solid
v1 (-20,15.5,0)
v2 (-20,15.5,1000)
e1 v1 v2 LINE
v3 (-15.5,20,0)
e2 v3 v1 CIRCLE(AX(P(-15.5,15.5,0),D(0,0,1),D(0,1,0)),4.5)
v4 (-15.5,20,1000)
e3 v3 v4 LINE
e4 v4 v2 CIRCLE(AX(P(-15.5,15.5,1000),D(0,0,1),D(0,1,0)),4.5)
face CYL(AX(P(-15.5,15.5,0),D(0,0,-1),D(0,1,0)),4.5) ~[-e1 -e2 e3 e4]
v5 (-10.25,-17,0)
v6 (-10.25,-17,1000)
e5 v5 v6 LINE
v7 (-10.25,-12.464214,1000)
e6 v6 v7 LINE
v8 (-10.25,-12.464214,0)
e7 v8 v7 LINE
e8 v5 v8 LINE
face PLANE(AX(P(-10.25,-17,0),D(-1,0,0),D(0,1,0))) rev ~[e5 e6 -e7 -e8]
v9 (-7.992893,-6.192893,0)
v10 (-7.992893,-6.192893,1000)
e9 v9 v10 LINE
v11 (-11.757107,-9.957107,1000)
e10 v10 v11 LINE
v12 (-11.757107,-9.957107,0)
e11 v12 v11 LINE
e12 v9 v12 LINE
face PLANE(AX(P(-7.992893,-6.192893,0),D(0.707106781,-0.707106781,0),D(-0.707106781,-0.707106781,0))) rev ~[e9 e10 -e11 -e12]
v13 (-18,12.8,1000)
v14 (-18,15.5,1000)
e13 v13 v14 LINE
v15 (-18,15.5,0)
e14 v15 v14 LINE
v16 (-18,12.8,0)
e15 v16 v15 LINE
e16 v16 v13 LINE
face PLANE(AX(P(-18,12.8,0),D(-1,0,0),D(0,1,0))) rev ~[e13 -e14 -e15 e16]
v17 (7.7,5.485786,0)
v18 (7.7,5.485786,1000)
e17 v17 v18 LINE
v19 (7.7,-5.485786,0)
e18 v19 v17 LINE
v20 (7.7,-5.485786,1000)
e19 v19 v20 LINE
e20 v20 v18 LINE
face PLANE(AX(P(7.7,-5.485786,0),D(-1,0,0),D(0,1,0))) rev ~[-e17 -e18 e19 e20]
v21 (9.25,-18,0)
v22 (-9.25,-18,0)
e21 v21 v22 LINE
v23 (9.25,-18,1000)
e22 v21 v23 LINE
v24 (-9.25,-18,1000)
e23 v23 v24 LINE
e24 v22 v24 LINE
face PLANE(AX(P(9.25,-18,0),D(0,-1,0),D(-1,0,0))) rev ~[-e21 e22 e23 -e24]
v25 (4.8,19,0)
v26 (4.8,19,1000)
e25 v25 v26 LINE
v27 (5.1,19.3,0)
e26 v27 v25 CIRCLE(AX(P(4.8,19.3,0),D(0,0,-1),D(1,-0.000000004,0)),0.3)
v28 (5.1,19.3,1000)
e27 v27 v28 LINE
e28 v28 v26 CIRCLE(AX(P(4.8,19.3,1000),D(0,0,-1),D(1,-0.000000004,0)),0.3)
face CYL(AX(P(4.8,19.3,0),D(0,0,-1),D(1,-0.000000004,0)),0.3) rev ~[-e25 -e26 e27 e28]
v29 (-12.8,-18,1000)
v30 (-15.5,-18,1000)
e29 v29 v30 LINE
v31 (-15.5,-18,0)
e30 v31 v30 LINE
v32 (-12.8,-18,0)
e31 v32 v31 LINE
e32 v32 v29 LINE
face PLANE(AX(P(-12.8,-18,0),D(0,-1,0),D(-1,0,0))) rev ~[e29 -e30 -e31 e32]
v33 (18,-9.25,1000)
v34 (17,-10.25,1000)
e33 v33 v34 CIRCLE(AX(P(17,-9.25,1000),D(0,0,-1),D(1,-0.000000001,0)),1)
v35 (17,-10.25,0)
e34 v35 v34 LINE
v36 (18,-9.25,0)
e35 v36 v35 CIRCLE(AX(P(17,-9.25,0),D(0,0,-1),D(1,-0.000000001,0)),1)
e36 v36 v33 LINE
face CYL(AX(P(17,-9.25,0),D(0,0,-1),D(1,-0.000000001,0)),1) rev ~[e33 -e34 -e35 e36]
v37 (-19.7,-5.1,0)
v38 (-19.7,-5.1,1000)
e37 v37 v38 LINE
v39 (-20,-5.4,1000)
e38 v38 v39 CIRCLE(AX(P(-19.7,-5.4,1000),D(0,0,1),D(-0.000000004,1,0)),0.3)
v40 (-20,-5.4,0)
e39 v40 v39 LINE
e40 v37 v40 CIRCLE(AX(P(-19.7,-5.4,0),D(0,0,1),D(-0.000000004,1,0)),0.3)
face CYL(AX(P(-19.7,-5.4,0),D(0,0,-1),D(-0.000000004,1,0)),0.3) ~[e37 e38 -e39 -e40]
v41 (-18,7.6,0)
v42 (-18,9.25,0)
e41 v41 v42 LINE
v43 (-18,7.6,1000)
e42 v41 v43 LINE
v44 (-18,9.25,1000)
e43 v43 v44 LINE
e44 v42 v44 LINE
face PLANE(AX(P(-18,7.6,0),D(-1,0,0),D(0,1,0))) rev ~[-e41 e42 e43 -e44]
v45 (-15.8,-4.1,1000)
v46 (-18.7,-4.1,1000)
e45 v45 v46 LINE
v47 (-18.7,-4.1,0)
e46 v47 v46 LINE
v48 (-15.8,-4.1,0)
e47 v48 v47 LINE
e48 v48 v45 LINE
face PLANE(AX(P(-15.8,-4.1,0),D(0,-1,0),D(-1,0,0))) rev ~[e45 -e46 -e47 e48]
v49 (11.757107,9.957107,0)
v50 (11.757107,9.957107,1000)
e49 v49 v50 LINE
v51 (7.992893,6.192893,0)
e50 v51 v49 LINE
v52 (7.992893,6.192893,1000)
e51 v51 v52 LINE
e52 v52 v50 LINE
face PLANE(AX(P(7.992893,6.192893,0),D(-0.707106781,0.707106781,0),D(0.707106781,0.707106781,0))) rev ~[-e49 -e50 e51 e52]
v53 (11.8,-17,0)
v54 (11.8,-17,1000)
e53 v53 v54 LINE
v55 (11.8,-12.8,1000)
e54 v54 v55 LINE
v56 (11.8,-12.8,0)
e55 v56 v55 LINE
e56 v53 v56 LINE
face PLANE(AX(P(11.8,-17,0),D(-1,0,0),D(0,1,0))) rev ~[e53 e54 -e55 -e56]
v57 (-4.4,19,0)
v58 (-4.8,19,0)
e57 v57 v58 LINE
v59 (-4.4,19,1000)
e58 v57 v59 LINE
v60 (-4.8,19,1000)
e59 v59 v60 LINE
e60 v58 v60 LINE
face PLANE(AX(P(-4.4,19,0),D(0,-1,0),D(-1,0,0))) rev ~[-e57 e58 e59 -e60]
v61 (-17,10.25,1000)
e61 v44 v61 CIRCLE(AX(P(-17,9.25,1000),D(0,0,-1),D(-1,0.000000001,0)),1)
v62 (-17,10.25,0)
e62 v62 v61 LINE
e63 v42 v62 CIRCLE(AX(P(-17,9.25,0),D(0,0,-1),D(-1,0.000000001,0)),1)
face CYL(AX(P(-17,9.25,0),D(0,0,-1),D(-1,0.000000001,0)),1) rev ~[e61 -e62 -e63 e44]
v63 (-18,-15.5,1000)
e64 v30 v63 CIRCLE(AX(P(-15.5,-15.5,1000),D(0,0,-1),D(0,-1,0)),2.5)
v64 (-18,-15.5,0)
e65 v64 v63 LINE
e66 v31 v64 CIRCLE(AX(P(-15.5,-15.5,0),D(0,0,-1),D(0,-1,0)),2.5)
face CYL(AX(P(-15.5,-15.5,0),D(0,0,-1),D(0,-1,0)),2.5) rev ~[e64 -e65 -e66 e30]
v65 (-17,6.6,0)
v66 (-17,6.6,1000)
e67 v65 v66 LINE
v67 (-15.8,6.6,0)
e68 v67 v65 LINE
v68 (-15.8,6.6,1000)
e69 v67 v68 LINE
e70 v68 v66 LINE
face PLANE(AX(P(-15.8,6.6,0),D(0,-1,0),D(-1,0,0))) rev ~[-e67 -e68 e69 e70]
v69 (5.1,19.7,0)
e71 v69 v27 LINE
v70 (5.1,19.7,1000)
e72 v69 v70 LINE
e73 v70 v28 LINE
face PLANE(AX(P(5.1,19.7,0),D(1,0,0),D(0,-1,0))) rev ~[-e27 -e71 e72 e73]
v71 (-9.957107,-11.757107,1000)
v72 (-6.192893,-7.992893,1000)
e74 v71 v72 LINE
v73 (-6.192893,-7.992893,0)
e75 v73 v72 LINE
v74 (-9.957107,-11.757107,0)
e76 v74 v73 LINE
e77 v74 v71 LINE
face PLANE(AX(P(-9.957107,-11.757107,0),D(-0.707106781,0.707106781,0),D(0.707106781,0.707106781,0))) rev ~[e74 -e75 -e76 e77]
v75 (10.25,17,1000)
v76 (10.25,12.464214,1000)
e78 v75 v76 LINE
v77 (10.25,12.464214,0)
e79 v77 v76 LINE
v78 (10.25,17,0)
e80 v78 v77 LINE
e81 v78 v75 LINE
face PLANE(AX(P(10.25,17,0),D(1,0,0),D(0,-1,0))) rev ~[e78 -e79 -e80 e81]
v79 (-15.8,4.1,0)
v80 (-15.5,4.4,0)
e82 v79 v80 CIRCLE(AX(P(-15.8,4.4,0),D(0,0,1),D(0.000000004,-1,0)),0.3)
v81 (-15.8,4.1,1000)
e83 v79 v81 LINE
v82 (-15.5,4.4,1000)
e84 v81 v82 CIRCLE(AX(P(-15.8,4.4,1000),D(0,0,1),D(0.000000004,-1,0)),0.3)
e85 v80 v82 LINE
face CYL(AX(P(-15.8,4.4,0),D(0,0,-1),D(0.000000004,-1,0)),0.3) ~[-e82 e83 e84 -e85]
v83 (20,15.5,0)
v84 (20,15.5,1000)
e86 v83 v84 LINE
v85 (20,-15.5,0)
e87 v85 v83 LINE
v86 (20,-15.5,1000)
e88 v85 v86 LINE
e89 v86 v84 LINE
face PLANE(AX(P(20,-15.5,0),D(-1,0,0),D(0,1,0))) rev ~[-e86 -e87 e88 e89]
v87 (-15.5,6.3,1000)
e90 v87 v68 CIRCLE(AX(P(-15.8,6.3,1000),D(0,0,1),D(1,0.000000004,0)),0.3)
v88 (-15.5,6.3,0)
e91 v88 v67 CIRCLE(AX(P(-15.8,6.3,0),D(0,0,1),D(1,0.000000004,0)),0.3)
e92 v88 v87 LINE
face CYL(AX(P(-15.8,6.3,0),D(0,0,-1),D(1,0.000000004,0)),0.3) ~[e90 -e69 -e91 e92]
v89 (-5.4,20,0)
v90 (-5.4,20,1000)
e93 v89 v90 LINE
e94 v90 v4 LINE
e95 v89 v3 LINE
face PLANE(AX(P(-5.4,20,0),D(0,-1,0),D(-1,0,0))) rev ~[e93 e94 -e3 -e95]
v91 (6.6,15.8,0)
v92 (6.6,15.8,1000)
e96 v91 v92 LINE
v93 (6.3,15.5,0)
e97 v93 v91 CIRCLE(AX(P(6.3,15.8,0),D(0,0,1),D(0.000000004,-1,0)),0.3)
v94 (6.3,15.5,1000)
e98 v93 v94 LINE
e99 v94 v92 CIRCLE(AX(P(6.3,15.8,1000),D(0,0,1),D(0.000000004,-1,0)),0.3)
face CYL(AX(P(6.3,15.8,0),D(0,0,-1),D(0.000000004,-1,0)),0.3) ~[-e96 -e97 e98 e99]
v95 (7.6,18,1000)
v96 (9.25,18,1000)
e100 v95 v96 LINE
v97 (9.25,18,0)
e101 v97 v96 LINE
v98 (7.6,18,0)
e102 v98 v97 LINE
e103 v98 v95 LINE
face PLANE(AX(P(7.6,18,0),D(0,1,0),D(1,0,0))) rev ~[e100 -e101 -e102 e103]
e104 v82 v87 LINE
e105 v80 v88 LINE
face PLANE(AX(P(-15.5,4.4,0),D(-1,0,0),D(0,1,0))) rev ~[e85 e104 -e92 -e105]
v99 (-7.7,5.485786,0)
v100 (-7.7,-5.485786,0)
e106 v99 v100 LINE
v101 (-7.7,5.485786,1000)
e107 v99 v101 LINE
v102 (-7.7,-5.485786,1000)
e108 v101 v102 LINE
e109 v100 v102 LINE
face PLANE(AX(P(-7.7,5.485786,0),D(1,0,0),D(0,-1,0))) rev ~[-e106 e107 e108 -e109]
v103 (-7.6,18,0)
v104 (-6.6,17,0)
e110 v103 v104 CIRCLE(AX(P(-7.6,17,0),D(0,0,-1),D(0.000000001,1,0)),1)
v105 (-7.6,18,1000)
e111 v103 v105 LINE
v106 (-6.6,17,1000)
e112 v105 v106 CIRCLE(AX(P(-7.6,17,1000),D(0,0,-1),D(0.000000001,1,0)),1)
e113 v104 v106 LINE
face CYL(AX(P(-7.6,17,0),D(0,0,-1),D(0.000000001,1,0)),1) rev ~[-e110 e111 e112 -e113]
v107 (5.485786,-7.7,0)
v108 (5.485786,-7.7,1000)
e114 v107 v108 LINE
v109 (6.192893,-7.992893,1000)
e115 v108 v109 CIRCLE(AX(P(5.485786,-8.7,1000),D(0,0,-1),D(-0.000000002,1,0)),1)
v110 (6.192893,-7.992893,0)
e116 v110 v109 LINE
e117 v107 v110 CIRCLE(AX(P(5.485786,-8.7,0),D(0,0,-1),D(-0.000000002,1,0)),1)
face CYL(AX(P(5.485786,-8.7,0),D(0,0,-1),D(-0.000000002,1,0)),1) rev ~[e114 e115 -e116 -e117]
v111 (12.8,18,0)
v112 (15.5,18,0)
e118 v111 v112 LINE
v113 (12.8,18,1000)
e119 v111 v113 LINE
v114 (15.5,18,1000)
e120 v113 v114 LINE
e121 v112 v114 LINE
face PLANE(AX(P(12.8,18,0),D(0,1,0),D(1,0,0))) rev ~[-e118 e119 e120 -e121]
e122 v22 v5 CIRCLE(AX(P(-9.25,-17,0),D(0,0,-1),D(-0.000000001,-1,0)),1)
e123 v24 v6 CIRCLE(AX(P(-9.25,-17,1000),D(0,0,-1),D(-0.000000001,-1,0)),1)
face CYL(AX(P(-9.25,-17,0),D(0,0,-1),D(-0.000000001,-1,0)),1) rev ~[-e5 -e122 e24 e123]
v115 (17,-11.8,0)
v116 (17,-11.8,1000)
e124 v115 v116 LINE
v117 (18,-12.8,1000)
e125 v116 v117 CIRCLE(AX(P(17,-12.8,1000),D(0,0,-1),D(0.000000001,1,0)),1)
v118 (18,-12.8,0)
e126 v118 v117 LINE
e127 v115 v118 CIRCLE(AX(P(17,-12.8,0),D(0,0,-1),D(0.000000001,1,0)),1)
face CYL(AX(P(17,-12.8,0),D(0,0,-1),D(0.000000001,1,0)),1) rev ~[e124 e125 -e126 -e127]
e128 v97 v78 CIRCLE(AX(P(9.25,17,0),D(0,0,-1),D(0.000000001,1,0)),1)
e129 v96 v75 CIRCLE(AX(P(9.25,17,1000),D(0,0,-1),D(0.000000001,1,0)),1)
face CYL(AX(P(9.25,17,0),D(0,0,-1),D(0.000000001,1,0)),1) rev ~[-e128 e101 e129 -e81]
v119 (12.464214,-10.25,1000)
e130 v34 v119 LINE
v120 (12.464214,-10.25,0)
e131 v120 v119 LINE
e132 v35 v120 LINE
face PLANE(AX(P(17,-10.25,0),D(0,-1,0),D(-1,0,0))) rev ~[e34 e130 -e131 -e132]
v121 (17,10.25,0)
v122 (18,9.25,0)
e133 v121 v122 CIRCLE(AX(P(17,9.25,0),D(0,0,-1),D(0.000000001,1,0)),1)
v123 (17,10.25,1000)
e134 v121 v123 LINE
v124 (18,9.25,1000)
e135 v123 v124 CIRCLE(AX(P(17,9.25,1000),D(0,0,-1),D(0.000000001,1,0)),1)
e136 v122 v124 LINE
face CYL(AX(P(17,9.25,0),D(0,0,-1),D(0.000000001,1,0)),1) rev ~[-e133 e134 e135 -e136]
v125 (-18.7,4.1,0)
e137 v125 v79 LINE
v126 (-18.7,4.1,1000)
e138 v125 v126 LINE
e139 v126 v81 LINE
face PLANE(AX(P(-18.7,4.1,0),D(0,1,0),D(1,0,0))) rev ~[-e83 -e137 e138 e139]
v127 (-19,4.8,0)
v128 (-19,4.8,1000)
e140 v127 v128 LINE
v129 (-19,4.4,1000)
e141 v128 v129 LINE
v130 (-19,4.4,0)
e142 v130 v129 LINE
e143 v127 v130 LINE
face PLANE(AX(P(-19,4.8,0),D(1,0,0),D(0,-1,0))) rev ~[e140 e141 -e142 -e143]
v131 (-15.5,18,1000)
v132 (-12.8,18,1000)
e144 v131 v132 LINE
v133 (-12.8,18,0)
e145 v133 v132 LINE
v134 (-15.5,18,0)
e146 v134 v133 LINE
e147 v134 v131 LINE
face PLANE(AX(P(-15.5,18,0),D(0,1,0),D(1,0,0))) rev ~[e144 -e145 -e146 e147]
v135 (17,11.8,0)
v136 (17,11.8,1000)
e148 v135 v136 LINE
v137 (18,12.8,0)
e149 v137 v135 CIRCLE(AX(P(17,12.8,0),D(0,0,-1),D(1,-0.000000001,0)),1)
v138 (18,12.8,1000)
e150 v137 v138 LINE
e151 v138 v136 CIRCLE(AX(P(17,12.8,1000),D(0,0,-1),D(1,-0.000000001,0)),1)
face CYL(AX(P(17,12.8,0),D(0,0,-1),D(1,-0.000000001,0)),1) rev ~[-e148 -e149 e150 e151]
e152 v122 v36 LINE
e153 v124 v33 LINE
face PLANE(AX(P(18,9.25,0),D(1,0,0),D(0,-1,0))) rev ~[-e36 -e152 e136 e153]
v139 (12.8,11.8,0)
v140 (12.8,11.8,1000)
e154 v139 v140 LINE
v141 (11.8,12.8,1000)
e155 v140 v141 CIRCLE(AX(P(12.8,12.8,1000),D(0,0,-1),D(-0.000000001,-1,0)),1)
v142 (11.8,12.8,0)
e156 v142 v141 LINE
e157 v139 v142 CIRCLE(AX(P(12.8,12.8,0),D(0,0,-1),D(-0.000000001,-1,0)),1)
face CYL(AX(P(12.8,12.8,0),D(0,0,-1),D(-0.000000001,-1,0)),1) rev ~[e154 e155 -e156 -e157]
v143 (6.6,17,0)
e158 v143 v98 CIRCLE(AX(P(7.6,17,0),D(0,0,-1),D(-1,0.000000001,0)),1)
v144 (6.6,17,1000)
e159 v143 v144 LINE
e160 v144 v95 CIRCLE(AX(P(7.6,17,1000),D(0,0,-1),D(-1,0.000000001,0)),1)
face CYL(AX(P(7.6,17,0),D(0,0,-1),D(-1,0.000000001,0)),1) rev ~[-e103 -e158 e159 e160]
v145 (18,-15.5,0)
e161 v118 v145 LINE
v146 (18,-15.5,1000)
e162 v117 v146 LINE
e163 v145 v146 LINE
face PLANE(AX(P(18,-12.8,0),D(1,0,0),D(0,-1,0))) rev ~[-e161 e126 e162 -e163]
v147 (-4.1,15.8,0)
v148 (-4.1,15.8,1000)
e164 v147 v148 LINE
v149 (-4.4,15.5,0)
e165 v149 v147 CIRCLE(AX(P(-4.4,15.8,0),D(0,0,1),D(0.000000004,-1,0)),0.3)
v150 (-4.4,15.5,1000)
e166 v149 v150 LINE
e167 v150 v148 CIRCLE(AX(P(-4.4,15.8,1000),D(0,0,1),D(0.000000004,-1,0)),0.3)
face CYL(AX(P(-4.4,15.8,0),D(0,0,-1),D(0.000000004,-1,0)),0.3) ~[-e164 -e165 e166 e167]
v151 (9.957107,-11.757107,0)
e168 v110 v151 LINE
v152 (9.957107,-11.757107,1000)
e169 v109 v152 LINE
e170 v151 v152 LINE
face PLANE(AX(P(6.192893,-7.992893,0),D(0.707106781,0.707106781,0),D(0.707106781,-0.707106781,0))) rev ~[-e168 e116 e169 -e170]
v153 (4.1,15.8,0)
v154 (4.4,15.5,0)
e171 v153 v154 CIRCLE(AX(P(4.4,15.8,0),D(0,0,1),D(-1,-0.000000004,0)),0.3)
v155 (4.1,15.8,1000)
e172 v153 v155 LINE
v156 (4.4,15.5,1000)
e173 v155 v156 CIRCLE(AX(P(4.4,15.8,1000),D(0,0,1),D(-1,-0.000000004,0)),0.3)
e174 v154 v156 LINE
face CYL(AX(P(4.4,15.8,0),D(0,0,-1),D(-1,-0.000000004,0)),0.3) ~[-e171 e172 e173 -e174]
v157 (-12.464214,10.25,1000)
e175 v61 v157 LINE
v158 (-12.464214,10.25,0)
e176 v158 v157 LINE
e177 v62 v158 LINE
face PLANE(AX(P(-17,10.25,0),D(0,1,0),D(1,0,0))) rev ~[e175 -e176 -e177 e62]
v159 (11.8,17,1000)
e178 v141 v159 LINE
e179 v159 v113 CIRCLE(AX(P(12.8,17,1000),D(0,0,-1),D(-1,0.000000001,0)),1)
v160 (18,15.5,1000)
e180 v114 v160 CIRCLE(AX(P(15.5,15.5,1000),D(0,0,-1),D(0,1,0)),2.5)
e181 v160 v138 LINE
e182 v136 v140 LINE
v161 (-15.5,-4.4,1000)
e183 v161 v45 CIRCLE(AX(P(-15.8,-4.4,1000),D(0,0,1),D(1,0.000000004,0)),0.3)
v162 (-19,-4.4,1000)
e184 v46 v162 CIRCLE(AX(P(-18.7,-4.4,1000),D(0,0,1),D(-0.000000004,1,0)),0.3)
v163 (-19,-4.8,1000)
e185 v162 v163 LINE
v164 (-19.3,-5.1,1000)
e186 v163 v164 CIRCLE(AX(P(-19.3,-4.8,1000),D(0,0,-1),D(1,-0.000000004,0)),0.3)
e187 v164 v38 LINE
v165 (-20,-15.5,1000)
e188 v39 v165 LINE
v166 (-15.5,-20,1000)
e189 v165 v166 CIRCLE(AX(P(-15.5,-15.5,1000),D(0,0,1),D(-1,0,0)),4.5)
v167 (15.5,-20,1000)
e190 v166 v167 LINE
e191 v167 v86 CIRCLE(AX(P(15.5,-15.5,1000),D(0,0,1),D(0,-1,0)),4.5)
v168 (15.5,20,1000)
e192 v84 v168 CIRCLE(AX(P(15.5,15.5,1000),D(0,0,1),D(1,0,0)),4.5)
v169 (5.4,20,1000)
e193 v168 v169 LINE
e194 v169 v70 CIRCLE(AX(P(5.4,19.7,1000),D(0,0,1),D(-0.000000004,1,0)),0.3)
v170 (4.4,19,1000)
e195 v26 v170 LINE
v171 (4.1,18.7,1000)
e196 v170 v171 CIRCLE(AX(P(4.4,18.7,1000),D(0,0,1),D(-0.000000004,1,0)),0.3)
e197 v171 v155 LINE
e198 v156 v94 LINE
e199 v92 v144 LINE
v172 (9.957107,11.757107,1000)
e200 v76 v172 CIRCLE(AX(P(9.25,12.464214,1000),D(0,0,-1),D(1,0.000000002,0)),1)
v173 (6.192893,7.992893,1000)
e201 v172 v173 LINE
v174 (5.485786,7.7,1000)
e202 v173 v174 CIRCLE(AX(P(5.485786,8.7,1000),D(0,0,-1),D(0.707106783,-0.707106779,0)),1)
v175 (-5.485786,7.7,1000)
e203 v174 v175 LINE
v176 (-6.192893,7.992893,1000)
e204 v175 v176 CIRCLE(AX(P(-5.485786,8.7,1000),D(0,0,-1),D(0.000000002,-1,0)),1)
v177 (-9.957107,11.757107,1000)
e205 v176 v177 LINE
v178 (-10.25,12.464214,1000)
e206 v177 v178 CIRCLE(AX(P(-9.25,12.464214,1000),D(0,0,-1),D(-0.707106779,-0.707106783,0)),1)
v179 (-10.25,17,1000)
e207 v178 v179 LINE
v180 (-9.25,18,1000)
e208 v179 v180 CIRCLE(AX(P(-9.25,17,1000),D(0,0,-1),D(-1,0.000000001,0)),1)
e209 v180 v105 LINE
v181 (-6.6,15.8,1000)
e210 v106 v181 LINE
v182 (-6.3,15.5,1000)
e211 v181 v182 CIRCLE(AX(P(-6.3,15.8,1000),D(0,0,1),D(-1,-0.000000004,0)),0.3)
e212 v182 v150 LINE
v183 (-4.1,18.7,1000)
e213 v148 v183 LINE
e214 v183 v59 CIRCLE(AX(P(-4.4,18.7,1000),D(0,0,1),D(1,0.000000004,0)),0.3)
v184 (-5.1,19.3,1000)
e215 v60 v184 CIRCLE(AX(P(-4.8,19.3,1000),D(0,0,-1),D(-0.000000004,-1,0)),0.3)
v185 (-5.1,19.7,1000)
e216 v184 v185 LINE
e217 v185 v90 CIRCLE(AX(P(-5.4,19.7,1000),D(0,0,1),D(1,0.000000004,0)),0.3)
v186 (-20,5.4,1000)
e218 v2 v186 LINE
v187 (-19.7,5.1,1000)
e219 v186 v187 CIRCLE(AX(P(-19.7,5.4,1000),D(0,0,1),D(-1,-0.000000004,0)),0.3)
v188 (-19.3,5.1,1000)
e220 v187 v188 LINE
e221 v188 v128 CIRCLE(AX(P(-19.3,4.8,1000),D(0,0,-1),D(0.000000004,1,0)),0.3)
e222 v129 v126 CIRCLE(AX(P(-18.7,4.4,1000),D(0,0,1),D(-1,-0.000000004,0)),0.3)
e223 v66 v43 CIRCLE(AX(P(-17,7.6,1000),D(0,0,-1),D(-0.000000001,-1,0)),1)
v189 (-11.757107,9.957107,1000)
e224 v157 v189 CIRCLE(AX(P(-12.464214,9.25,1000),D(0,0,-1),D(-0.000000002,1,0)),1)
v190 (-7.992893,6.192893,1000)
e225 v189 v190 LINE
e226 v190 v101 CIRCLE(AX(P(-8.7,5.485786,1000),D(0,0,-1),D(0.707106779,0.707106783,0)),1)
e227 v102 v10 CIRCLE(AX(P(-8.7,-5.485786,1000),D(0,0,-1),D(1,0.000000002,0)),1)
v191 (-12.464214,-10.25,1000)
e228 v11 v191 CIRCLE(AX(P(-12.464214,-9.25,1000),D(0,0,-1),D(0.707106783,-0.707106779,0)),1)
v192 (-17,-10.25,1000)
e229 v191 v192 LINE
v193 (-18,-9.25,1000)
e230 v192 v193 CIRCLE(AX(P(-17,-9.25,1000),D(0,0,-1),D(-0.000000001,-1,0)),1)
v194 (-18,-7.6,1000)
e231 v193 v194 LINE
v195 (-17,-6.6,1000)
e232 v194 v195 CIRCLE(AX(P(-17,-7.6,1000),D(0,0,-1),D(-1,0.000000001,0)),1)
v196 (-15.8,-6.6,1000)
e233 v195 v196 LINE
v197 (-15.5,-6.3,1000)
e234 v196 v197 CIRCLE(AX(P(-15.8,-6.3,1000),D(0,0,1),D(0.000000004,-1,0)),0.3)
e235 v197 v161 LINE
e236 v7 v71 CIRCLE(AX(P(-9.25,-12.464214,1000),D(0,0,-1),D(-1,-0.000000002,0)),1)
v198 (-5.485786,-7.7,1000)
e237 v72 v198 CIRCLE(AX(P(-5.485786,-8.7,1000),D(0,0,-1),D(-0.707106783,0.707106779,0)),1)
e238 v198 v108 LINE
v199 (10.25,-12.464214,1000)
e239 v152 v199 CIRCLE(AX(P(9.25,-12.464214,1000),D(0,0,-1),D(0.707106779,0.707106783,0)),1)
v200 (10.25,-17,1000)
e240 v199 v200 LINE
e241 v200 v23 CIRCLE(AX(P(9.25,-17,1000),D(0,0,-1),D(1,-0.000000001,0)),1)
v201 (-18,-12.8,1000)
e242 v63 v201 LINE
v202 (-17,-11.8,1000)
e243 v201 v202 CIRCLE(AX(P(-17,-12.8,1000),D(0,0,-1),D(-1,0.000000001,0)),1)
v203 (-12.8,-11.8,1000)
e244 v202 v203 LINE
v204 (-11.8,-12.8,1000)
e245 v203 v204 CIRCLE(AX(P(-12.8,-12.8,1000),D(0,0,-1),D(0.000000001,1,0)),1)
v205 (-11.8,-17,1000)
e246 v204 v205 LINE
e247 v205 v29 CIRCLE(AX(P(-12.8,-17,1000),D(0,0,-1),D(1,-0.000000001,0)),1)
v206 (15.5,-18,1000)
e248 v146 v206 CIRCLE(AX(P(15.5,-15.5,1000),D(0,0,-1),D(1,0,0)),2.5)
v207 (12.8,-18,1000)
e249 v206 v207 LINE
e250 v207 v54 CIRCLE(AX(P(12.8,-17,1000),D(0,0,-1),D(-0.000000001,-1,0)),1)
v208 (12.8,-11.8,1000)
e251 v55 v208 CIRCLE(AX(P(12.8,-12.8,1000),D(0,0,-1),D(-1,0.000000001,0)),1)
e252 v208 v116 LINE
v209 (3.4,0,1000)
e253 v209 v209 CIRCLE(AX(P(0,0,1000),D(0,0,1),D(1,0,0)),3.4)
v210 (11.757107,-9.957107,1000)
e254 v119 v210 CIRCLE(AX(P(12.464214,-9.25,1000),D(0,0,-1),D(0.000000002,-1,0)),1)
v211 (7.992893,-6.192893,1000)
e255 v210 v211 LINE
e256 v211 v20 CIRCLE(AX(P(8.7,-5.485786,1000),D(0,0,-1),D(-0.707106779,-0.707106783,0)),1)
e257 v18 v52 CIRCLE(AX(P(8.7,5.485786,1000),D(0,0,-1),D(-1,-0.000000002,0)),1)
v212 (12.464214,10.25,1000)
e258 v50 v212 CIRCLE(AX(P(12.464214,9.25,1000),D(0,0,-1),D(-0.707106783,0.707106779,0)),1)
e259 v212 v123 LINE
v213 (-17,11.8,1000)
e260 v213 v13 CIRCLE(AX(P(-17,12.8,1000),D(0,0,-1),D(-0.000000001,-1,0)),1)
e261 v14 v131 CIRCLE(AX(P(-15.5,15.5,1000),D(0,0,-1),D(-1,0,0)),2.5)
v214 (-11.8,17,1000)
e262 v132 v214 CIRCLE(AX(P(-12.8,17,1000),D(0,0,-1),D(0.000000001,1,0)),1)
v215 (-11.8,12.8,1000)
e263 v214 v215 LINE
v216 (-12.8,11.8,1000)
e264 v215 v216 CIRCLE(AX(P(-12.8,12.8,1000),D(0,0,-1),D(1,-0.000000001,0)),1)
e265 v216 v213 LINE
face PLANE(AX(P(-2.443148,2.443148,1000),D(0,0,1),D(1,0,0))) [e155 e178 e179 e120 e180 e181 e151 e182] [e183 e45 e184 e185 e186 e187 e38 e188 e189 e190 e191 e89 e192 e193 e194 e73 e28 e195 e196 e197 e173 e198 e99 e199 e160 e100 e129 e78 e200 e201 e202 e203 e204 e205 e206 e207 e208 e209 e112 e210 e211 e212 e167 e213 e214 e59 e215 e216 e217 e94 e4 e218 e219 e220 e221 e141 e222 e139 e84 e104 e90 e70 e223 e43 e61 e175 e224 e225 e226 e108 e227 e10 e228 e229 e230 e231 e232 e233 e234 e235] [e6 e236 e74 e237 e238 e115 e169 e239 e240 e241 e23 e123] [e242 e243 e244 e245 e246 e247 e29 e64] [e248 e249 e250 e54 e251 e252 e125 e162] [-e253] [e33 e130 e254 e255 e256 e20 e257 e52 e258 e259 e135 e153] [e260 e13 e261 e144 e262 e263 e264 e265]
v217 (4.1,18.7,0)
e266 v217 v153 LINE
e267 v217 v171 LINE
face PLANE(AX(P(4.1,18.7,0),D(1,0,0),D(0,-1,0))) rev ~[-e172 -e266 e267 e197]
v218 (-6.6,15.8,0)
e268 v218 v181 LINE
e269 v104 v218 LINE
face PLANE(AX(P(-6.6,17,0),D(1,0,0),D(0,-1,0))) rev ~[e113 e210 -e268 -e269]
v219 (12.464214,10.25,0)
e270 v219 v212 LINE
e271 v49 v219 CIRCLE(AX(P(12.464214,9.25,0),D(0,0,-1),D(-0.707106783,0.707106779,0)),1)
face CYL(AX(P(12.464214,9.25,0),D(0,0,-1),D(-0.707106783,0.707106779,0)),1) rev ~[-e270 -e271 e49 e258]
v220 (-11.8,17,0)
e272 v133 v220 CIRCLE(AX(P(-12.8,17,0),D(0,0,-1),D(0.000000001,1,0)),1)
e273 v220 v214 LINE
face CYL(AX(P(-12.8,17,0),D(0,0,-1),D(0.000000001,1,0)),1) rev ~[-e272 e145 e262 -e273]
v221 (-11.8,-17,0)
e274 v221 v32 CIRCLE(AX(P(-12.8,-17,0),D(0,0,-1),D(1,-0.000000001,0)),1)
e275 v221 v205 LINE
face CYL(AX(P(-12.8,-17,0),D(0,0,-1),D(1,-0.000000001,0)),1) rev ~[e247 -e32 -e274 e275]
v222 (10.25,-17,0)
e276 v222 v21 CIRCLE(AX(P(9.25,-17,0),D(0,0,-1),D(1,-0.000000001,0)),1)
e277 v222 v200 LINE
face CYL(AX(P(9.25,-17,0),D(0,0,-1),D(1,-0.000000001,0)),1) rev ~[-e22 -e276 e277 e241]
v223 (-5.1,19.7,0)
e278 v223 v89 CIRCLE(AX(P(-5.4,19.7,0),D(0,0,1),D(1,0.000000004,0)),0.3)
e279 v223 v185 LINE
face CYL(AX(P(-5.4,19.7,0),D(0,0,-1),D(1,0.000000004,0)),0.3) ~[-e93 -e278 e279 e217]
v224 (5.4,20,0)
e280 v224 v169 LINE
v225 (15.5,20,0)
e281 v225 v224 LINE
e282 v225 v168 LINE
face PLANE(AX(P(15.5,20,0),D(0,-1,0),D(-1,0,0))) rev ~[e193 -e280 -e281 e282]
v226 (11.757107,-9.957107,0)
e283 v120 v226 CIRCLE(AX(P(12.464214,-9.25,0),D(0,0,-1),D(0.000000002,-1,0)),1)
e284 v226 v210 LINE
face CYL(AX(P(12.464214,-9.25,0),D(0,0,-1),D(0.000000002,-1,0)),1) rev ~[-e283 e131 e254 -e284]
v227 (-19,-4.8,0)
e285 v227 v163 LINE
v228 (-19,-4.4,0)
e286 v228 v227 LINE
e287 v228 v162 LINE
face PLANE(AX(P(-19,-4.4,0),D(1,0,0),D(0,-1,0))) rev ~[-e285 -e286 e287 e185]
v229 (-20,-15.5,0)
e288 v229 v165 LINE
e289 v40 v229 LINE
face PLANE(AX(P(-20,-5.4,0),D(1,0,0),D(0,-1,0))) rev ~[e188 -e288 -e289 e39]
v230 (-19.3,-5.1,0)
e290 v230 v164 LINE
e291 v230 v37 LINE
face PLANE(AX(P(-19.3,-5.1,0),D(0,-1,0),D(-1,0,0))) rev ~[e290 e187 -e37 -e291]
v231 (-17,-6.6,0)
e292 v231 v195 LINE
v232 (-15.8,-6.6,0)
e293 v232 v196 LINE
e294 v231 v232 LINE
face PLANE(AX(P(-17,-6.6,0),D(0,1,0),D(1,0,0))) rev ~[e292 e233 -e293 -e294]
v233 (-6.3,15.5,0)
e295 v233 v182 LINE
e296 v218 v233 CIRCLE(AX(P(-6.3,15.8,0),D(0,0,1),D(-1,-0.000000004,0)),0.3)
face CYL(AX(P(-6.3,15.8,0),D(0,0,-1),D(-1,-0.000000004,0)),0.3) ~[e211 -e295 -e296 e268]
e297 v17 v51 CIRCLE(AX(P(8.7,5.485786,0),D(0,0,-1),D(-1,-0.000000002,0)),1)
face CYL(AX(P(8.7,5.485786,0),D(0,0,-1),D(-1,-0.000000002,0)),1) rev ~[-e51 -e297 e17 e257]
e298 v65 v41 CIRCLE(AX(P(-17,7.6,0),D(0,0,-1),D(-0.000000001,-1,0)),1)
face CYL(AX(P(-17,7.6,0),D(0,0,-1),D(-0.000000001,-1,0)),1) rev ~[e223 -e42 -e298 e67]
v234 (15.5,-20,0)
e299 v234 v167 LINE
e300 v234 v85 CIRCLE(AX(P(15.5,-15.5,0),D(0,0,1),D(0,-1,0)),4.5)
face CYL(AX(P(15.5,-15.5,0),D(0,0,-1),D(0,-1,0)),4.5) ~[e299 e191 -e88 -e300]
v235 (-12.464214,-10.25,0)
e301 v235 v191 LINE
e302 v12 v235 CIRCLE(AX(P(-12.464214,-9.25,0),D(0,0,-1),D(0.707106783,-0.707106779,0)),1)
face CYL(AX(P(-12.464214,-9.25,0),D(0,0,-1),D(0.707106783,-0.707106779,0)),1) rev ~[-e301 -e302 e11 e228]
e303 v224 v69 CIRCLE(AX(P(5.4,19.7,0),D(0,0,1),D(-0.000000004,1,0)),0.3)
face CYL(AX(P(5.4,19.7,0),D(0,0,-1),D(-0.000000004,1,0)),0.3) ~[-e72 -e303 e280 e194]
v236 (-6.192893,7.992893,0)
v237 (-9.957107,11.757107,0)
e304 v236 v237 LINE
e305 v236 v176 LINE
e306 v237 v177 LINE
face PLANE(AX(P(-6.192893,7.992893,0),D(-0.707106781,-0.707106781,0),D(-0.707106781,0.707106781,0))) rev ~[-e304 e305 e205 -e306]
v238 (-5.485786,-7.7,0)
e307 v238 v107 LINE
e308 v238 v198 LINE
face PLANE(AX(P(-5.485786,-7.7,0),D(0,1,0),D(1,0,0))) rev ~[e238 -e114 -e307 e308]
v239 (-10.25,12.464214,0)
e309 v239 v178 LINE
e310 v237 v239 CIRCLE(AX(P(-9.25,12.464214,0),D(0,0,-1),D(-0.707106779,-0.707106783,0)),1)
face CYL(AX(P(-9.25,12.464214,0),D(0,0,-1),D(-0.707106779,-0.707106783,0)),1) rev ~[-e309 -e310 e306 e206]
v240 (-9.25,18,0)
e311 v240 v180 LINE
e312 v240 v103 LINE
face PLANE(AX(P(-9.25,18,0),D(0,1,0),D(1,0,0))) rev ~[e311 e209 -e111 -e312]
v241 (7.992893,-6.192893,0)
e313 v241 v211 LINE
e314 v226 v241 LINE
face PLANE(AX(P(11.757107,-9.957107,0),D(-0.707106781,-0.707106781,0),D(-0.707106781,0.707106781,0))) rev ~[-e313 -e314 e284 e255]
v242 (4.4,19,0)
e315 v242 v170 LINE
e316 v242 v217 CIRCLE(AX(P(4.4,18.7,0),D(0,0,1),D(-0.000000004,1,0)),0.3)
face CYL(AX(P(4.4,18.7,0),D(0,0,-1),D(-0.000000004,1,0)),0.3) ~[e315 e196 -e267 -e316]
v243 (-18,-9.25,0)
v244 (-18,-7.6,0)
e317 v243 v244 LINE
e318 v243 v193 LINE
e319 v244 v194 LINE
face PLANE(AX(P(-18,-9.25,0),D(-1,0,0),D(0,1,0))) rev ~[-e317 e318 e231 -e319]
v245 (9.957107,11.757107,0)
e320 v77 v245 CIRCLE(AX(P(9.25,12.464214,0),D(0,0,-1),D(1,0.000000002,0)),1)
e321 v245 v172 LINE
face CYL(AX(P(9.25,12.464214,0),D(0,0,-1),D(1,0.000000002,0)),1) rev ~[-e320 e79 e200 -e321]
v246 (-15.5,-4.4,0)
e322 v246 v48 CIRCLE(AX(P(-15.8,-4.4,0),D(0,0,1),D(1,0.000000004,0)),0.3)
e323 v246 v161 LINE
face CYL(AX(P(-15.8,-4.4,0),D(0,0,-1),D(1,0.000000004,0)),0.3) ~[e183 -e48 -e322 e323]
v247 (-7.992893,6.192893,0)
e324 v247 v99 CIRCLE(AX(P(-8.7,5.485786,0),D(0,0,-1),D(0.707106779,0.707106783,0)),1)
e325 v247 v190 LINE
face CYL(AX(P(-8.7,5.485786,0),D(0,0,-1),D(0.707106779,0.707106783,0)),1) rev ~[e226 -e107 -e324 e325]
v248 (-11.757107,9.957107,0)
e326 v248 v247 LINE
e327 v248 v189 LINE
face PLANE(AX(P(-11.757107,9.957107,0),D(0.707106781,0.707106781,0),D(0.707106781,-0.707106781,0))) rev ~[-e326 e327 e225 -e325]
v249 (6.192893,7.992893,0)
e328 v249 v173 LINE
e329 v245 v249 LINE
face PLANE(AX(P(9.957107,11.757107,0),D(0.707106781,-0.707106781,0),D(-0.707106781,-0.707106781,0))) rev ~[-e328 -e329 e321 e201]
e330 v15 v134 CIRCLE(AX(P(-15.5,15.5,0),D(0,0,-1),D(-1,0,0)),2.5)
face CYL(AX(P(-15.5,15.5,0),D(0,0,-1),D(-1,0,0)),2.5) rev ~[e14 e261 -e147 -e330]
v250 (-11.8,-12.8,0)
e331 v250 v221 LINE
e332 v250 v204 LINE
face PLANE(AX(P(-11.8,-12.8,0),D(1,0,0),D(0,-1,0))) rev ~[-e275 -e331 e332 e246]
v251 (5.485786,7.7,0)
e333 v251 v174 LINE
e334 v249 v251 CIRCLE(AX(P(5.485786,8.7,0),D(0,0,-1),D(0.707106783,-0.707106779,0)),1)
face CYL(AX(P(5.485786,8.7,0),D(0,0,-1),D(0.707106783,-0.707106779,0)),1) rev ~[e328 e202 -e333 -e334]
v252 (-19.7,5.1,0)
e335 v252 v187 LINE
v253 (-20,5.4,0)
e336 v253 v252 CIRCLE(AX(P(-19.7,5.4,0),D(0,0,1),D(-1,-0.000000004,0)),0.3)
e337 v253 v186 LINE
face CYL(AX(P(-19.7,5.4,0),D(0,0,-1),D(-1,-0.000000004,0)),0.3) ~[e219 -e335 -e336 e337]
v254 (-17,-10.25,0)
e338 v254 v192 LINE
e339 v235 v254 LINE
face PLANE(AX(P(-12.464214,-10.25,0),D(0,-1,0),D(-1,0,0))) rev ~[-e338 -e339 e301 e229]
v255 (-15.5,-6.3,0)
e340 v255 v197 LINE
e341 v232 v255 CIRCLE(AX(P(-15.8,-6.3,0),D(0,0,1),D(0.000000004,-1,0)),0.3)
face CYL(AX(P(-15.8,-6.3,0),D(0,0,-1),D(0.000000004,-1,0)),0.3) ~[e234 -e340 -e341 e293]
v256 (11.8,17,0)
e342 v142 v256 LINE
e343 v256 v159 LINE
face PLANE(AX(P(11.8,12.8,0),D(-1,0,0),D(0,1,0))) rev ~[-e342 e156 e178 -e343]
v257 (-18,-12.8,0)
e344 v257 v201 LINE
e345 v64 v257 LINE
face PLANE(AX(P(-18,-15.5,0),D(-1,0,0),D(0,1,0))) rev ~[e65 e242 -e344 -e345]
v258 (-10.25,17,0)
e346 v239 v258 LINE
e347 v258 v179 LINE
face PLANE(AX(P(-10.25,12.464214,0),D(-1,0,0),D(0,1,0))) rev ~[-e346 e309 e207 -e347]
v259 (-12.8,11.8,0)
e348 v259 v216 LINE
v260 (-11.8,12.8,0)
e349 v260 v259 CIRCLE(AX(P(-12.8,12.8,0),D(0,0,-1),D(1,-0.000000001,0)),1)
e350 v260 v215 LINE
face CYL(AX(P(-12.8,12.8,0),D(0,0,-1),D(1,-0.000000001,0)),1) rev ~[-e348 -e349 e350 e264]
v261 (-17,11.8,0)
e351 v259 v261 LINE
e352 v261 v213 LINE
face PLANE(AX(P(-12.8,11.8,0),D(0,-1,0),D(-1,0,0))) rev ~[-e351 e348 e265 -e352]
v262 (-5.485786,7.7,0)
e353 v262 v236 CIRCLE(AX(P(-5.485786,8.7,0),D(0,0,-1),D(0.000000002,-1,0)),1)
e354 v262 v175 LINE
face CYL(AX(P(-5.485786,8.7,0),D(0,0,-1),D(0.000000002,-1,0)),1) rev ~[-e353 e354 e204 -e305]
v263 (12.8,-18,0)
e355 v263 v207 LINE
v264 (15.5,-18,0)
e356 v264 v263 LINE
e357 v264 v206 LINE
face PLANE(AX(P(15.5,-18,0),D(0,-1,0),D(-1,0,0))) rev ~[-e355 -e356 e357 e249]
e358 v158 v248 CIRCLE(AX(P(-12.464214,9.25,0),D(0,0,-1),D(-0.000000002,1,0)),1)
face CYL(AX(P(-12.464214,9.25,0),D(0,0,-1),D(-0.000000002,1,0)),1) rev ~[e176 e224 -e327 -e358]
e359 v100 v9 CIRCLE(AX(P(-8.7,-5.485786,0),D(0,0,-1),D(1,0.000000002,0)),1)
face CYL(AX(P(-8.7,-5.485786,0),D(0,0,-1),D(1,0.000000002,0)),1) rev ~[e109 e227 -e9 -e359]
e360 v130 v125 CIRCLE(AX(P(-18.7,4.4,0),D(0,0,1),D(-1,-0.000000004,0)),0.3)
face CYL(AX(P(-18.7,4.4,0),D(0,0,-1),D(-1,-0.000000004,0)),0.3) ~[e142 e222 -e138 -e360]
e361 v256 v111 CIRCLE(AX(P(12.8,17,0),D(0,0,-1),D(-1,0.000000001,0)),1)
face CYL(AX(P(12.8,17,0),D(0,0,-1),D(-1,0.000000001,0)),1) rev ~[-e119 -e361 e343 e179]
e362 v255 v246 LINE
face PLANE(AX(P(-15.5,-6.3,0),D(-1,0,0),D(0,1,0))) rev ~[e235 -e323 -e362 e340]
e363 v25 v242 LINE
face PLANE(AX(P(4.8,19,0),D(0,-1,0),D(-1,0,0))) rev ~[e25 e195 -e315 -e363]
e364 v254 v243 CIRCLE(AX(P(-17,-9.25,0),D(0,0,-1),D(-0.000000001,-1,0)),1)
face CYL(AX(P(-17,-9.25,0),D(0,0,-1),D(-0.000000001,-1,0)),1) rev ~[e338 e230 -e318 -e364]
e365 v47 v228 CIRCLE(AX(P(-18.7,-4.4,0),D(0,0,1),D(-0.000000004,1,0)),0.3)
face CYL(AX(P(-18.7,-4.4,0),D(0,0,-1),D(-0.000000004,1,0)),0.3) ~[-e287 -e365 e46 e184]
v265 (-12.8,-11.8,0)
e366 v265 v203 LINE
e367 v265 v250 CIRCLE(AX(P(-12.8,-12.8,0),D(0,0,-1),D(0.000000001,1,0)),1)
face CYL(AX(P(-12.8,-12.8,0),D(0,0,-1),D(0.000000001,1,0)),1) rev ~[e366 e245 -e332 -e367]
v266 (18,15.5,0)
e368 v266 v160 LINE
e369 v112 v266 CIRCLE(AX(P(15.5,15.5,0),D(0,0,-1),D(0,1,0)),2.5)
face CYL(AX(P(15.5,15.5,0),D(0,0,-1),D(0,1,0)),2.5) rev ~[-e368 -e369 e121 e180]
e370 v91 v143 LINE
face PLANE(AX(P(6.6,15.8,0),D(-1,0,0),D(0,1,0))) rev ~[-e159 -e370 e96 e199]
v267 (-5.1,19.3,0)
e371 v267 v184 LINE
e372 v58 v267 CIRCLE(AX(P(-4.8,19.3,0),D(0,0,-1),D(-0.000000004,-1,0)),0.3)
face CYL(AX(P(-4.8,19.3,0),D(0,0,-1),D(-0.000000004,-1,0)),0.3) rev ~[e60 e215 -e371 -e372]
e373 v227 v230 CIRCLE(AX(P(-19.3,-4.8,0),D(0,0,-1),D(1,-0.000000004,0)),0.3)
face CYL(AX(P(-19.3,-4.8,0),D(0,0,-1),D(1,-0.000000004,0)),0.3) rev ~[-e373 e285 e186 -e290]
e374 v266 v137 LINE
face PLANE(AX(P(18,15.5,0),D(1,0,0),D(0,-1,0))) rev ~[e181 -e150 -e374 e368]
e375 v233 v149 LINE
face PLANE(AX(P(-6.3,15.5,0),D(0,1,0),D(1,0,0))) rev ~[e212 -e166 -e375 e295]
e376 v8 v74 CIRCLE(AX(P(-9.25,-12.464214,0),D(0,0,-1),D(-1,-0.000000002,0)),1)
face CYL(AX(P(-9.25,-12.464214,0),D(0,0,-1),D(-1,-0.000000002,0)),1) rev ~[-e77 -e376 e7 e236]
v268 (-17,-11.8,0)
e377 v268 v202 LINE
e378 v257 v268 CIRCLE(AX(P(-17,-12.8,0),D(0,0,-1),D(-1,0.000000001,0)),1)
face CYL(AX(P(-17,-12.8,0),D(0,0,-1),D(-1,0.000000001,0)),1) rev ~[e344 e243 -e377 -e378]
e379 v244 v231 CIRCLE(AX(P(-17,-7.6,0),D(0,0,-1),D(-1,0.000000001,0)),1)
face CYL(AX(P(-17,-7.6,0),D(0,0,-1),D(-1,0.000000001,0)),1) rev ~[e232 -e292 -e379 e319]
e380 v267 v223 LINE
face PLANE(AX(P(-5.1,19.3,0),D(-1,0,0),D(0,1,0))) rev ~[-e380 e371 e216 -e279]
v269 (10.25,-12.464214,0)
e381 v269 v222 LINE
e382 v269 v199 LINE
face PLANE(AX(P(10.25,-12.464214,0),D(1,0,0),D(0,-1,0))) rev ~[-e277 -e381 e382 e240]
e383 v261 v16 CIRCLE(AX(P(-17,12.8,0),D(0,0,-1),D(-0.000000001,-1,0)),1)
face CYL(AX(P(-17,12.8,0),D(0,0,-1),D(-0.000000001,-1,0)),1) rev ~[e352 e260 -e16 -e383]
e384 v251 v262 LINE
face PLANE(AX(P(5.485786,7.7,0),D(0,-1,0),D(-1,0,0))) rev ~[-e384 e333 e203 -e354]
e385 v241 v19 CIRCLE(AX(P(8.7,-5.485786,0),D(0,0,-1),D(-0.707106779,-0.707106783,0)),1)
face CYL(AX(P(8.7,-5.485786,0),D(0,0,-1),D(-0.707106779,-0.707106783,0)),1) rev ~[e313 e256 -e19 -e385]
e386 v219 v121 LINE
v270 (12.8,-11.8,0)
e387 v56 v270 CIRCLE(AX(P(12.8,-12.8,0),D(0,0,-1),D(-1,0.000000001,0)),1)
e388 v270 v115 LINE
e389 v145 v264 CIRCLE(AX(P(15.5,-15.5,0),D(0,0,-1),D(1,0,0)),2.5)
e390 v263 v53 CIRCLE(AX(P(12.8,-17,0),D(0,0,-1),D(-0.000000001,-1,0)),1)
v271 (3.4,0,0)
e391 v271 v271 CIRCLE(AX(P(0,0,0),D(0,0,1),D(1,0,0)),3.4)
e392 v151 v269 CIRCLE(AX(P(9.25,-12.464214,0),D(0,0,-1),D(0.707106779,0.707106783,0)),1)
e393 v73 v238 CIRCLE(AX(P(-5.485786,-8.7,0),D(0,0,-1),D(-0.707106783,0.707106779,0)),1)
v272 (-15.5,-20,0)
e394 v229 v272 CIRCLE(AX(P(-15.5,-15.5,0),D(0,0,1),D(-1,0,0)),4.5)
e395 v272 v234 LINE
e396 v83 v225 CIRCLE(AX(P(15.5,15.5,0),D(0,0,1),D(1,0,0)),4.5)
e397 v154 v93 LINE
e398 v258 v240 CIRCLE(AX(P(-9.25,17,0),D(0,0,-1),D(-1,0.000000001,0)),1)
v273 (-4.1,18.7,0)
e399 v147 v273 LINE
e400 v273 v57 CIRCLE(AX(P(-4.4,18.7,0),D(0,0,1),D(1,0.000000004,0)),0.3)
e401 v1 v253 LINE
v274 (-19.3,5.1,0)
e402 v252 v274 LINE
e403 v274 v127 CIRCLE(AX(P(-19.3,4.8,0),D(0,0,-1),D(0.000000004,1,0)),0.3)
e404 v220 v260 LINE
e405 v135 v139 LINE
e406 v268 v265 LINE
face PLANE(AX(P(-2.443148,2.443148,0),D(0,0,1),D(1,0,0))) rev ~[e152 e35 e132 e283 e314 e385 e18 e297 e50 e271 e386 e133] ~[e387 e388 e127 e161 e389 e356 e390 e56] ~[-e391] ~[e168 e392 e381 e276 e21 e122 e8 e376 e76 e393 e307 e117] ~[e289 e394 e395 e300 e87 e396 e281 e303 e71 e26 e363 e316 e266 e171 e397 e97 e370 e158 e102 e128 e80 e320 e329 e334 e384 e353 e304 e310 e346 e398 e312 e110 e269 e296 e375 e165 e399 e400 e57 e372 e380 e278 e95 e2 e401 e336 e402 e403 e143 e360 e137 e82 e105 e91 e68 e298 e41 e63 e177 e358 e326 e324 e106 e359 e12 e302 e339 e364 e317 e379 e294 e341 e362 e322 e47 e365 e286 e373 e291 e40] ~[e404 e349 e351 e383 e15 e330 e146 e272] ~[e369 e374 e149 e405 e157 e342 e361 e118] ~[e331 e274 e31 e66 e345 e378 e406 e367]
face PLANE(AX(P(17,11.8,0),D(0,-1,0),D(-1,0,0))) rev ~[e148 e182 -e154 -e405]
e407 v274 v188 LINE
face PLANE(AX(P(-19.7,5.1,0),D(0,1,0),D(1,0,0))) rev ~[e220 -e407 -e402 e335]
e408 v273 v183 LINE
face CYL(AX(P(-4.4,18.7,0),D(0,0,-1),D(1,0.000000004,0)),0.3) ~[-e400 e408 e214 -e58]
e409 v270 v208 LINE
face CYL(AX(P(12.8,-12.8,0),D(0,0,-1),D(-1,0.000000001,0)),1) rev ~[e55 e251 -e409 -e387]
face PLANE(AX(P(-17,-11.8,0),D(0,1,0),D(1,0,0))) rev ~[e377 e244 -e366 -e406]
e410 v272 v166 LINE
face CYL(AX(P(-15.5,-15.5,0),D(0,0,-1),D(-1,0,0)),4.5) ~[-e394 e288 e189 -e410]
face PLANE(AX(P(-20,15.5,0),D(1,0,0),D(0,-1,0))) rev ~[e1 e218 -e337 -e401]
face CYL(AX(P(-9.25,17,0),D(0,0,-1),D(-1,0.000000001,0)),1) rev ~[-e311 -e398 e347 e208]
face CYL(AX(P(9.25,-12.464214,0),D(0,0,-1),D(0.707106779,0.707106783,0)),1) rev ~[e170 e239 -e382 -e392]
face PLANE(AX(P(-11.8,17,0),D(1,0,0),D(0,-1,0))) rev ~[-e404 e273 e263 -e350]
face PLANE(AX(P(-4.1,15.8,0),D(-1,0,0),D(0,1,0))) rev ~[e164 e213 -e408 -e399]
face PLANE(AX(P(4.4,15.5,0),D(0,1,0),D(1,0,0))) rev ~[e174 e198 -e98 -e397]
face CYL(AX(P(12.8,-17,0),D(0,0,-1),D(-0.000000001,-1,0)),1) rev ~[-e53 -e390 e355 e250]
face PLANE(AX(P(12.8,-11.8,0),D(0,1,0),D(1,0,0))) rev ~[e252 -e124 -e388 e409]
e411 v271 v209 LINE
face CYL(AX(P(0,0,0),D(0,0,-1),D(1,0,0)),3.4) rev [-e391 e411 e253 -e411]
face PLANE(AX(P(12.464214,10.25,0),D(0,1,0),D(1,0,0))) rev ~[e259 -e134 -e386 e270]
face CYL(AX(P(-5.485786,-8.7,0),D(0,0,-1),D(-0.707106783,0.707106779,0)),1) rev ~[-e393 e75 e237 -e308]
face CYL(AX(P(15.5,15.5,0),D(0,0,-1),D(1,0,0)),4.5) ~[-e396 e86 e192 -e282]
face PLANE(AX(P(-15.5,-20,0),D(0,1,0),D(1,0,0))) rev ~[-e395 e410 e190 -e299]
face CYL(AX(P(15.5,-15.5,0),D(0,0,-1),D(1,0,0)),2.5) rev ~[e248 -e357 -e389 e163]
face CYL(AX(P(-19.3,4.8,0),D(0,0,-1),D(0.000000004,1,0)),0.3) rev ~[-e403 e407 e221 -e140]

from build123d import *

# Parameters (mm, degrees)
SKETCH_1_R      = 3.4
EXTRUDE_1_DEPTH = 1000


with BuildPart() as part:
    # Эскиз1 → Бобышка-Вытянуть1 (new body)
    with BuildSketch(Plane.XY):
        with BuildLine():
            Line((-20, 15.5), (-20, 10.25))
            Line((-20, 10.25), (-20, 5.4))
            ThreePointArc((-20, 5.4), (-19.912132034, 5.187867966), (-19.7, 5.1))
            Line((-19.7, 5.1), (-19.3, 5.1))
            ThreePointArc((-19.3, 5.1), (-19.087867966, 5.012132034), (-19, 4.8))
            Line((-19, 4.8), (-19, 4.4))
            ThreePointArc((-19, 4.4), (-18.912132034, 4.187867966), (-18.7, 4.1))
            Line((-18.7, 4.1), (-15.8, 4.1))
            ThreePointArc((-15.8, 4.1), (-15.587867966, 4.187867966), (-15.5, 4.4))
            Line((-15.5, 4.4), (-15.5, 6.3))
            ThreePointArc((-15.5, 6.3), (-15.587867966, 6.512132034), (-15.8, 6.6))
            Line((-15.8, 6.6), (-17, 6.6))
            ThreePointArc((-17, 6.6), (-17.707106781, 6.892893219), (-18, 7.6))
            Line((-18, 7.6), (-18, 9.25))
            ThreePointArc((-18, 9.25), (-17.707106781, 9.957106781), (-17, 10.25))
            Line((-17, 10.25), (-12.464213562, 10.25))
            ThreePointArc((-12.464213562, 10.25), (-12.08153013, 10.173879533), (-11.757106781, 9.957106781))
            Line((-11.757106781, 9.957106781), (-7.992893219, 6.192893219))
            ThreePointArc((-7.992893219, 6.192893219), (-7.776120467, 5.86846987), (-7.7, 5.485786438))
            Line((-7.7, 5.485786438), (-7.7, -5.485786438))
            ThreePointArc((-7.7, -5.485786438), (-7.776120467, -5.86846987), (-7.992893219, -6.192893219))
            Line((-7.992893219, -6.192893219), (-11.757106781, -9.957106781))
            ThreePointArc((-11.757106781, -9.957106781), (-12.08153013, -10.173879533), (-12.464213562, -10.25))
            Line((-12.464213562, -10.25), (-17, -10.25))
            ThreePointArc((-17, -10.25), (-17.707106781, -9.957106781), (-18, -9.25))
            Line((-18, -9.25), (-18, -7.6))
            ThreePointArc((-18, -7.6), (-17.707106781, -6.892893219), (-17, -6.6))
            Line((-17, -6.6), (-15.8, -6.6))
            ThreePointArc((-15.8, -6.6), (-15.587867966, -6.512132034), (-15.5, -6.3))
            Line((-15.5, -6.3), (-15.5, -4.4))
            ThreePointArc((-15.5, -4.4), (-15.587867966, -4.187867966), (-15.8, -4.1))
            Line((-15.8, -4.1), (-18.7, -4.1))
            ThreePointArc((-18.7, -4.1), (-18.912132034, -4.187867966), (-19, -4.4))
            Line((-19, -4.4), (-19, -4.8))
            ThreePointArc((-19, -4.8), (-19.087867966, -5.012132034), (-19.3, -5.1))
            Line((-19.3, -5.1), (-19.7, -5.1))
            ThreePointArc((-19.7, -5.1), (-19.912132034, -5.187867966), (-20, -5.4))
            Line((-20, -5.4), (-20, -10.25))
            Line((-20, -10.25), (-20, -15.5))
            ThreePointArc((-20, -15.5), (-18.681980515, -18.681980515), (-15.5, -20))
            Line((-15.5, -20), (-10.25, -20))
            Line((-10.25, -20), (0, -20))
            Line((0, -20), (10.25, -20))
            Line((10.25, -20), (15.5, -20))
            ThreePointArc((15.5, -20), (18.681980515, -18.681980515), (20, -15.5))
            Line((20, -15.5), (20, -10.25))
            Line((20, -10.25), (20, 0))
            Line((20, 0), (20, 10.25))
            Line((20, 10.25), (20, 15.5))
            ThreePointArc((20, 15.5), (18.681980515, 18.681980515), (15.5, 20))
            Line((15.5, 20), (10.25, 20))
            Line((10.25, 20), (5.4, 20))
            ThreePointArc((5.4, 20), (5.187867966, 19.912132034), (5.1, 19.7))
            Line((5.1, 19.7), (5.1, 19.3))
            ThreePointArc((5.1, 19.3), (5.012132034, 19.087867966), (4.8, 19))
            Line((4.8, 19), (4.4, 19))
            ThreePointArc((4.4, 19), (4.187867966, 18.912132034), (4.1, 18.7))
            Line((4.1, 18.7), (4.1, 15.8))
            ThreePointArc((4.1, 15.8), (4.187867966, 15.587867966), (4.4, 15.5))
            Line((4.4, 15.5), (6.3, 15.5))
            ThreePointArc((6.3, 15.5), (6.512132034, 15.587867966), (6.6, 15.8))
            Line((6.6, 15.8), (6.6, 17))
            ThreePointArc((6.6, 17), (6.892893219, 17.707106781), (7.6, 18))
            Line((7.6, 18), (9.25, 18))
            ThreePointArc((9.25, 18), (9.957106781, 17.707106781), (10.25, 17))
            Line((10.25, 17), (10.25, 12.464213562))
            ThreePointArc((10.25, 12.464213562), (10.173879533, 12.08153013), (9.957106781, 11.757106781))
            Line((9.957106781, 11.757106781), (6.192893219, 7.992893219))
            ThreePointArc((6.192893219, 7.992893219), (5.86846987, 7.776120467), (5.485786438, 7.7))
            Line((5.485786438, 7.7), (-5.485786438, 7.7))
            ThreePointArc((-5.485786438, 7.7), (-5.86846987, 7.776120467), (-6.192893219, 7.992893219))
            Line((-6.192893219, 7.992893219), (-9.957106781, 11.757106781))
            ThreePointArc((-9.957106781, 11.757106781), (-10.173879533, 12.08153013), (-10.25, 12.464213562))
            Line((-10.25, 12.464213562), (-10.25, 17))
            ThreePointArc((-10.25, 17), (-9.957106781, 17.707106781), (-9.25, 18))
            Line((-9.25, 18), (-7.6, 18))
            ThreePointArc((-7.6, 18), (-6.892893219, 17.707106781), (-6.6, 17))
            Line((-6.6, 17), (-6.6, 15.8))
            ThreePointArc((-6.6, 15.8), (-6.512132034, 15.587867966), (-6.3, 15.5))
            Line((-6.3, 15.5), (-4.4, 15.5))
            ThreePointArc((-4.4, 15.5), (-4.187867966, 15.587867966), (-4.1, 15.8))
            Line((-4.1, 15.8), (-4.1, 18.7))
            ThreePointArc((-4.1, 18.7), (-4.187867966, 18.912132034), (-4.4, 19))
            Line((-4.4, 19), (-4.8, 19))
            ThreePointArc((-4.8, 19), (-5.012132034, 19.087867966), (-5.1, 19.3))
            Line((-5.1, 19.3), (-5.1, 19.7))
            ThreePointArc((-5.1, 19.7), (-5.187867966, 19.912132034), (-5.4, 20))
            Line((-5.4, 20), (-10.25, 20))
            Line((-10.25, 20), (-15.5, 20))
            ThreePointArc((-15.5, 20), (-18.681980515, 18.681980515), (-20, 15.5))
        make_face()
        with BuildLine():
            ThreePointArc((-12.8, -11.8), (-12.092893219, -12.092893219), (-11.8, -12.8))
            Line((-11.8, -12.8), (-11.8, -17))
            ThreePointArc((-11.8, -17), (-12.092893219, -17.707106781), (-12.8, -18))
            Line((-12.8, -18), (-15.5, -18))
            ThreePointArc((-15.5, -18), (-17.267766953, -17.267766953), (-18, -15.5))
            Line((-18, -15.5), (-18, -12.8))
            ThreePointArc((-18, -12.8), (-17.707106781, -12.092893219), (-17, -11.8))
            Line((-17, -11.8), (-12.8, -11.8))
        make_face(mode=Mode.SUBTRACT)
        with BuildLine():
            Line((9.25, -18), (0, -18))
            Line((0, -18), (-9.25, -18))
            ThreePointArc((-9.25, -18), (-9.957106781, -17.707106781), (-10.25, -17))
            Line((-10.25, -17), (-10.25, -12.464213562))
            ThreePointArc((-10.25, -12.464213562), (-10.173879533, -12.08153013), (-9.957106781, -11.757106781))
            Line((-9.957106781, -11.757106781), (-6.192893219, -7.992893219))
            ThreePointArc((-6.192893219, -7.992893219), (-5.86846987, -7.776120467), (-5.485786438, -7.7))
            Line((-5.485786438, -7.7), (5.485786438, -7.7))
            ThreePointArc((5.485786438, -7.7), (5.86846987, -7.776120467), (6.192893219, -7.992893219))
            Line((6.192893219, -7.992893219), (9.957106781, -11.757106781))
            ThreePointArc((9.957106781, -11.757106781), (10.173879533, -12.08153013), (10.25, -12.464213562))
            Line((10.25, -12.464213562), (10.25, -17))
            ThreePointArc((10.25, -17), (9.957106781, -17.707106781), (9.25, -18))
        make_face(mode=Mode.SUBTRACT)
        with BuildLine():
            ThreePointArc((11.8, -12.8), (12.092893219, -12.092893219), (12.8, -11.8))
            Line((12.8, -11.8), (17, -11.8))
            ThreePointArc((17, -11.8), (17.707106781, -12.092893219), (18, -12.8))
            Line((18, -12.8), (18, -15.5))
            ThreePointArc((18, -15.5), (17.267766953, -17.267766953), (15.5, -18))
            Line((15.5, -18), (12.8, -18))
            ThreePointArc((12.8, -18), (12.092893219, -17.707106781), (11.8, -17))
            Line((11.8, -17), (11.8, -12.8))
        make_face(mode=Mode.SUBTRACT)
        Circle(SKETCH_1_R, mode=Mode.SUBTRACT)
        with BuildLine():
            ThreePointArc((-11.8, 12.8), (-12.092893219, 12.092893219), (-12.8, 11.8))
            Line((-12.8, 11.8), (-17, 11.8))
            ThreePointArc((-17, 11.8), (-17.707106781, 12.092893219), (-18, 12.8))
            Line((-18, 12.8), (-18, 15.5))
            ThreePointArc((-18, 15.5), (-17.267766953, 17.267766953), (-15.5, 18))
            Line((-15.5, 18), (-12.8, 18))
            ThreePointArc((-12.8, 18), (-12.092893219, 17.707106781), (-11.8, 17))
            Line((-11.8, 17), (-11.8, 12.8))
        make_face(mode=Mode.SUBTRACT)
        with BuildLine():
            Line((18, 9.25), (18, 0))
            Line((18, 0), (18, -9.25))
            ThreePointArc((18, -9.25), (17.707106781, -9.957106781), (17, -10.25))
            Line((17, -10.25), (12.464213562, -10.25))
            ThreePointArc((12.464213562, -10.25), (12.08153013, -10.173879533), (11.757106781, -9.957106781))
            Line((11.757106781, -9.957106781), (7.992893219, -6.192893219))
            ThreePointArc((7.992893219, -6.192893219), (7.776120467, -5.86846987), (7.7, -5.485786438))
            Line((7.7, -5.485786438), (7.7, 5.485786438))
            ThreePointArc((7.7, 5.485786438), (7.776120467, 5.86846987), (7.992893219, 6.192893219))
            Line((7.992893219, 6.192893219), (11.757106781, 9.957106781))
            ThreePointArc((11.757106781, 9.957106781), (12.08153013, 10.173879533), (12.464213562, 10.25))
            Line((12.464213562, 10.25), (17, 10.25))
            ThreePointArc((17, 10.25), (17.707106781, 9.957106781), (18, 9.25))
        make_face(mode=Mode.SUBTRACT)
        with BuildLine():
            ThreePointArc((12.8, 11.8), (12.092893219, 12.092893219), (11.8, 12.8))
            Line((11.8, 12.8), (11.8, 17))
            ThreePointArc((11.8, 17), (12.092893219, 17.707106781), (12.8, 18))
            Line((12.8, 18), (15.5, 18))
            ThreePointArc((15.5, 18), (17.267766953, 17.267766953), (18, 15.5))
            Line((18, 15.5), (18, 12.8))
            ThreePointArc((18, 12.8), (17.707106781, 12.092893219), (17, 11.8))
            Line((17, 11.8), (12.8, 11.8))
        make_face(mode=Mode.SUBTRACT)
    extrude(amount=EXTRUDE_1_DEPTH)


solid = part.part
